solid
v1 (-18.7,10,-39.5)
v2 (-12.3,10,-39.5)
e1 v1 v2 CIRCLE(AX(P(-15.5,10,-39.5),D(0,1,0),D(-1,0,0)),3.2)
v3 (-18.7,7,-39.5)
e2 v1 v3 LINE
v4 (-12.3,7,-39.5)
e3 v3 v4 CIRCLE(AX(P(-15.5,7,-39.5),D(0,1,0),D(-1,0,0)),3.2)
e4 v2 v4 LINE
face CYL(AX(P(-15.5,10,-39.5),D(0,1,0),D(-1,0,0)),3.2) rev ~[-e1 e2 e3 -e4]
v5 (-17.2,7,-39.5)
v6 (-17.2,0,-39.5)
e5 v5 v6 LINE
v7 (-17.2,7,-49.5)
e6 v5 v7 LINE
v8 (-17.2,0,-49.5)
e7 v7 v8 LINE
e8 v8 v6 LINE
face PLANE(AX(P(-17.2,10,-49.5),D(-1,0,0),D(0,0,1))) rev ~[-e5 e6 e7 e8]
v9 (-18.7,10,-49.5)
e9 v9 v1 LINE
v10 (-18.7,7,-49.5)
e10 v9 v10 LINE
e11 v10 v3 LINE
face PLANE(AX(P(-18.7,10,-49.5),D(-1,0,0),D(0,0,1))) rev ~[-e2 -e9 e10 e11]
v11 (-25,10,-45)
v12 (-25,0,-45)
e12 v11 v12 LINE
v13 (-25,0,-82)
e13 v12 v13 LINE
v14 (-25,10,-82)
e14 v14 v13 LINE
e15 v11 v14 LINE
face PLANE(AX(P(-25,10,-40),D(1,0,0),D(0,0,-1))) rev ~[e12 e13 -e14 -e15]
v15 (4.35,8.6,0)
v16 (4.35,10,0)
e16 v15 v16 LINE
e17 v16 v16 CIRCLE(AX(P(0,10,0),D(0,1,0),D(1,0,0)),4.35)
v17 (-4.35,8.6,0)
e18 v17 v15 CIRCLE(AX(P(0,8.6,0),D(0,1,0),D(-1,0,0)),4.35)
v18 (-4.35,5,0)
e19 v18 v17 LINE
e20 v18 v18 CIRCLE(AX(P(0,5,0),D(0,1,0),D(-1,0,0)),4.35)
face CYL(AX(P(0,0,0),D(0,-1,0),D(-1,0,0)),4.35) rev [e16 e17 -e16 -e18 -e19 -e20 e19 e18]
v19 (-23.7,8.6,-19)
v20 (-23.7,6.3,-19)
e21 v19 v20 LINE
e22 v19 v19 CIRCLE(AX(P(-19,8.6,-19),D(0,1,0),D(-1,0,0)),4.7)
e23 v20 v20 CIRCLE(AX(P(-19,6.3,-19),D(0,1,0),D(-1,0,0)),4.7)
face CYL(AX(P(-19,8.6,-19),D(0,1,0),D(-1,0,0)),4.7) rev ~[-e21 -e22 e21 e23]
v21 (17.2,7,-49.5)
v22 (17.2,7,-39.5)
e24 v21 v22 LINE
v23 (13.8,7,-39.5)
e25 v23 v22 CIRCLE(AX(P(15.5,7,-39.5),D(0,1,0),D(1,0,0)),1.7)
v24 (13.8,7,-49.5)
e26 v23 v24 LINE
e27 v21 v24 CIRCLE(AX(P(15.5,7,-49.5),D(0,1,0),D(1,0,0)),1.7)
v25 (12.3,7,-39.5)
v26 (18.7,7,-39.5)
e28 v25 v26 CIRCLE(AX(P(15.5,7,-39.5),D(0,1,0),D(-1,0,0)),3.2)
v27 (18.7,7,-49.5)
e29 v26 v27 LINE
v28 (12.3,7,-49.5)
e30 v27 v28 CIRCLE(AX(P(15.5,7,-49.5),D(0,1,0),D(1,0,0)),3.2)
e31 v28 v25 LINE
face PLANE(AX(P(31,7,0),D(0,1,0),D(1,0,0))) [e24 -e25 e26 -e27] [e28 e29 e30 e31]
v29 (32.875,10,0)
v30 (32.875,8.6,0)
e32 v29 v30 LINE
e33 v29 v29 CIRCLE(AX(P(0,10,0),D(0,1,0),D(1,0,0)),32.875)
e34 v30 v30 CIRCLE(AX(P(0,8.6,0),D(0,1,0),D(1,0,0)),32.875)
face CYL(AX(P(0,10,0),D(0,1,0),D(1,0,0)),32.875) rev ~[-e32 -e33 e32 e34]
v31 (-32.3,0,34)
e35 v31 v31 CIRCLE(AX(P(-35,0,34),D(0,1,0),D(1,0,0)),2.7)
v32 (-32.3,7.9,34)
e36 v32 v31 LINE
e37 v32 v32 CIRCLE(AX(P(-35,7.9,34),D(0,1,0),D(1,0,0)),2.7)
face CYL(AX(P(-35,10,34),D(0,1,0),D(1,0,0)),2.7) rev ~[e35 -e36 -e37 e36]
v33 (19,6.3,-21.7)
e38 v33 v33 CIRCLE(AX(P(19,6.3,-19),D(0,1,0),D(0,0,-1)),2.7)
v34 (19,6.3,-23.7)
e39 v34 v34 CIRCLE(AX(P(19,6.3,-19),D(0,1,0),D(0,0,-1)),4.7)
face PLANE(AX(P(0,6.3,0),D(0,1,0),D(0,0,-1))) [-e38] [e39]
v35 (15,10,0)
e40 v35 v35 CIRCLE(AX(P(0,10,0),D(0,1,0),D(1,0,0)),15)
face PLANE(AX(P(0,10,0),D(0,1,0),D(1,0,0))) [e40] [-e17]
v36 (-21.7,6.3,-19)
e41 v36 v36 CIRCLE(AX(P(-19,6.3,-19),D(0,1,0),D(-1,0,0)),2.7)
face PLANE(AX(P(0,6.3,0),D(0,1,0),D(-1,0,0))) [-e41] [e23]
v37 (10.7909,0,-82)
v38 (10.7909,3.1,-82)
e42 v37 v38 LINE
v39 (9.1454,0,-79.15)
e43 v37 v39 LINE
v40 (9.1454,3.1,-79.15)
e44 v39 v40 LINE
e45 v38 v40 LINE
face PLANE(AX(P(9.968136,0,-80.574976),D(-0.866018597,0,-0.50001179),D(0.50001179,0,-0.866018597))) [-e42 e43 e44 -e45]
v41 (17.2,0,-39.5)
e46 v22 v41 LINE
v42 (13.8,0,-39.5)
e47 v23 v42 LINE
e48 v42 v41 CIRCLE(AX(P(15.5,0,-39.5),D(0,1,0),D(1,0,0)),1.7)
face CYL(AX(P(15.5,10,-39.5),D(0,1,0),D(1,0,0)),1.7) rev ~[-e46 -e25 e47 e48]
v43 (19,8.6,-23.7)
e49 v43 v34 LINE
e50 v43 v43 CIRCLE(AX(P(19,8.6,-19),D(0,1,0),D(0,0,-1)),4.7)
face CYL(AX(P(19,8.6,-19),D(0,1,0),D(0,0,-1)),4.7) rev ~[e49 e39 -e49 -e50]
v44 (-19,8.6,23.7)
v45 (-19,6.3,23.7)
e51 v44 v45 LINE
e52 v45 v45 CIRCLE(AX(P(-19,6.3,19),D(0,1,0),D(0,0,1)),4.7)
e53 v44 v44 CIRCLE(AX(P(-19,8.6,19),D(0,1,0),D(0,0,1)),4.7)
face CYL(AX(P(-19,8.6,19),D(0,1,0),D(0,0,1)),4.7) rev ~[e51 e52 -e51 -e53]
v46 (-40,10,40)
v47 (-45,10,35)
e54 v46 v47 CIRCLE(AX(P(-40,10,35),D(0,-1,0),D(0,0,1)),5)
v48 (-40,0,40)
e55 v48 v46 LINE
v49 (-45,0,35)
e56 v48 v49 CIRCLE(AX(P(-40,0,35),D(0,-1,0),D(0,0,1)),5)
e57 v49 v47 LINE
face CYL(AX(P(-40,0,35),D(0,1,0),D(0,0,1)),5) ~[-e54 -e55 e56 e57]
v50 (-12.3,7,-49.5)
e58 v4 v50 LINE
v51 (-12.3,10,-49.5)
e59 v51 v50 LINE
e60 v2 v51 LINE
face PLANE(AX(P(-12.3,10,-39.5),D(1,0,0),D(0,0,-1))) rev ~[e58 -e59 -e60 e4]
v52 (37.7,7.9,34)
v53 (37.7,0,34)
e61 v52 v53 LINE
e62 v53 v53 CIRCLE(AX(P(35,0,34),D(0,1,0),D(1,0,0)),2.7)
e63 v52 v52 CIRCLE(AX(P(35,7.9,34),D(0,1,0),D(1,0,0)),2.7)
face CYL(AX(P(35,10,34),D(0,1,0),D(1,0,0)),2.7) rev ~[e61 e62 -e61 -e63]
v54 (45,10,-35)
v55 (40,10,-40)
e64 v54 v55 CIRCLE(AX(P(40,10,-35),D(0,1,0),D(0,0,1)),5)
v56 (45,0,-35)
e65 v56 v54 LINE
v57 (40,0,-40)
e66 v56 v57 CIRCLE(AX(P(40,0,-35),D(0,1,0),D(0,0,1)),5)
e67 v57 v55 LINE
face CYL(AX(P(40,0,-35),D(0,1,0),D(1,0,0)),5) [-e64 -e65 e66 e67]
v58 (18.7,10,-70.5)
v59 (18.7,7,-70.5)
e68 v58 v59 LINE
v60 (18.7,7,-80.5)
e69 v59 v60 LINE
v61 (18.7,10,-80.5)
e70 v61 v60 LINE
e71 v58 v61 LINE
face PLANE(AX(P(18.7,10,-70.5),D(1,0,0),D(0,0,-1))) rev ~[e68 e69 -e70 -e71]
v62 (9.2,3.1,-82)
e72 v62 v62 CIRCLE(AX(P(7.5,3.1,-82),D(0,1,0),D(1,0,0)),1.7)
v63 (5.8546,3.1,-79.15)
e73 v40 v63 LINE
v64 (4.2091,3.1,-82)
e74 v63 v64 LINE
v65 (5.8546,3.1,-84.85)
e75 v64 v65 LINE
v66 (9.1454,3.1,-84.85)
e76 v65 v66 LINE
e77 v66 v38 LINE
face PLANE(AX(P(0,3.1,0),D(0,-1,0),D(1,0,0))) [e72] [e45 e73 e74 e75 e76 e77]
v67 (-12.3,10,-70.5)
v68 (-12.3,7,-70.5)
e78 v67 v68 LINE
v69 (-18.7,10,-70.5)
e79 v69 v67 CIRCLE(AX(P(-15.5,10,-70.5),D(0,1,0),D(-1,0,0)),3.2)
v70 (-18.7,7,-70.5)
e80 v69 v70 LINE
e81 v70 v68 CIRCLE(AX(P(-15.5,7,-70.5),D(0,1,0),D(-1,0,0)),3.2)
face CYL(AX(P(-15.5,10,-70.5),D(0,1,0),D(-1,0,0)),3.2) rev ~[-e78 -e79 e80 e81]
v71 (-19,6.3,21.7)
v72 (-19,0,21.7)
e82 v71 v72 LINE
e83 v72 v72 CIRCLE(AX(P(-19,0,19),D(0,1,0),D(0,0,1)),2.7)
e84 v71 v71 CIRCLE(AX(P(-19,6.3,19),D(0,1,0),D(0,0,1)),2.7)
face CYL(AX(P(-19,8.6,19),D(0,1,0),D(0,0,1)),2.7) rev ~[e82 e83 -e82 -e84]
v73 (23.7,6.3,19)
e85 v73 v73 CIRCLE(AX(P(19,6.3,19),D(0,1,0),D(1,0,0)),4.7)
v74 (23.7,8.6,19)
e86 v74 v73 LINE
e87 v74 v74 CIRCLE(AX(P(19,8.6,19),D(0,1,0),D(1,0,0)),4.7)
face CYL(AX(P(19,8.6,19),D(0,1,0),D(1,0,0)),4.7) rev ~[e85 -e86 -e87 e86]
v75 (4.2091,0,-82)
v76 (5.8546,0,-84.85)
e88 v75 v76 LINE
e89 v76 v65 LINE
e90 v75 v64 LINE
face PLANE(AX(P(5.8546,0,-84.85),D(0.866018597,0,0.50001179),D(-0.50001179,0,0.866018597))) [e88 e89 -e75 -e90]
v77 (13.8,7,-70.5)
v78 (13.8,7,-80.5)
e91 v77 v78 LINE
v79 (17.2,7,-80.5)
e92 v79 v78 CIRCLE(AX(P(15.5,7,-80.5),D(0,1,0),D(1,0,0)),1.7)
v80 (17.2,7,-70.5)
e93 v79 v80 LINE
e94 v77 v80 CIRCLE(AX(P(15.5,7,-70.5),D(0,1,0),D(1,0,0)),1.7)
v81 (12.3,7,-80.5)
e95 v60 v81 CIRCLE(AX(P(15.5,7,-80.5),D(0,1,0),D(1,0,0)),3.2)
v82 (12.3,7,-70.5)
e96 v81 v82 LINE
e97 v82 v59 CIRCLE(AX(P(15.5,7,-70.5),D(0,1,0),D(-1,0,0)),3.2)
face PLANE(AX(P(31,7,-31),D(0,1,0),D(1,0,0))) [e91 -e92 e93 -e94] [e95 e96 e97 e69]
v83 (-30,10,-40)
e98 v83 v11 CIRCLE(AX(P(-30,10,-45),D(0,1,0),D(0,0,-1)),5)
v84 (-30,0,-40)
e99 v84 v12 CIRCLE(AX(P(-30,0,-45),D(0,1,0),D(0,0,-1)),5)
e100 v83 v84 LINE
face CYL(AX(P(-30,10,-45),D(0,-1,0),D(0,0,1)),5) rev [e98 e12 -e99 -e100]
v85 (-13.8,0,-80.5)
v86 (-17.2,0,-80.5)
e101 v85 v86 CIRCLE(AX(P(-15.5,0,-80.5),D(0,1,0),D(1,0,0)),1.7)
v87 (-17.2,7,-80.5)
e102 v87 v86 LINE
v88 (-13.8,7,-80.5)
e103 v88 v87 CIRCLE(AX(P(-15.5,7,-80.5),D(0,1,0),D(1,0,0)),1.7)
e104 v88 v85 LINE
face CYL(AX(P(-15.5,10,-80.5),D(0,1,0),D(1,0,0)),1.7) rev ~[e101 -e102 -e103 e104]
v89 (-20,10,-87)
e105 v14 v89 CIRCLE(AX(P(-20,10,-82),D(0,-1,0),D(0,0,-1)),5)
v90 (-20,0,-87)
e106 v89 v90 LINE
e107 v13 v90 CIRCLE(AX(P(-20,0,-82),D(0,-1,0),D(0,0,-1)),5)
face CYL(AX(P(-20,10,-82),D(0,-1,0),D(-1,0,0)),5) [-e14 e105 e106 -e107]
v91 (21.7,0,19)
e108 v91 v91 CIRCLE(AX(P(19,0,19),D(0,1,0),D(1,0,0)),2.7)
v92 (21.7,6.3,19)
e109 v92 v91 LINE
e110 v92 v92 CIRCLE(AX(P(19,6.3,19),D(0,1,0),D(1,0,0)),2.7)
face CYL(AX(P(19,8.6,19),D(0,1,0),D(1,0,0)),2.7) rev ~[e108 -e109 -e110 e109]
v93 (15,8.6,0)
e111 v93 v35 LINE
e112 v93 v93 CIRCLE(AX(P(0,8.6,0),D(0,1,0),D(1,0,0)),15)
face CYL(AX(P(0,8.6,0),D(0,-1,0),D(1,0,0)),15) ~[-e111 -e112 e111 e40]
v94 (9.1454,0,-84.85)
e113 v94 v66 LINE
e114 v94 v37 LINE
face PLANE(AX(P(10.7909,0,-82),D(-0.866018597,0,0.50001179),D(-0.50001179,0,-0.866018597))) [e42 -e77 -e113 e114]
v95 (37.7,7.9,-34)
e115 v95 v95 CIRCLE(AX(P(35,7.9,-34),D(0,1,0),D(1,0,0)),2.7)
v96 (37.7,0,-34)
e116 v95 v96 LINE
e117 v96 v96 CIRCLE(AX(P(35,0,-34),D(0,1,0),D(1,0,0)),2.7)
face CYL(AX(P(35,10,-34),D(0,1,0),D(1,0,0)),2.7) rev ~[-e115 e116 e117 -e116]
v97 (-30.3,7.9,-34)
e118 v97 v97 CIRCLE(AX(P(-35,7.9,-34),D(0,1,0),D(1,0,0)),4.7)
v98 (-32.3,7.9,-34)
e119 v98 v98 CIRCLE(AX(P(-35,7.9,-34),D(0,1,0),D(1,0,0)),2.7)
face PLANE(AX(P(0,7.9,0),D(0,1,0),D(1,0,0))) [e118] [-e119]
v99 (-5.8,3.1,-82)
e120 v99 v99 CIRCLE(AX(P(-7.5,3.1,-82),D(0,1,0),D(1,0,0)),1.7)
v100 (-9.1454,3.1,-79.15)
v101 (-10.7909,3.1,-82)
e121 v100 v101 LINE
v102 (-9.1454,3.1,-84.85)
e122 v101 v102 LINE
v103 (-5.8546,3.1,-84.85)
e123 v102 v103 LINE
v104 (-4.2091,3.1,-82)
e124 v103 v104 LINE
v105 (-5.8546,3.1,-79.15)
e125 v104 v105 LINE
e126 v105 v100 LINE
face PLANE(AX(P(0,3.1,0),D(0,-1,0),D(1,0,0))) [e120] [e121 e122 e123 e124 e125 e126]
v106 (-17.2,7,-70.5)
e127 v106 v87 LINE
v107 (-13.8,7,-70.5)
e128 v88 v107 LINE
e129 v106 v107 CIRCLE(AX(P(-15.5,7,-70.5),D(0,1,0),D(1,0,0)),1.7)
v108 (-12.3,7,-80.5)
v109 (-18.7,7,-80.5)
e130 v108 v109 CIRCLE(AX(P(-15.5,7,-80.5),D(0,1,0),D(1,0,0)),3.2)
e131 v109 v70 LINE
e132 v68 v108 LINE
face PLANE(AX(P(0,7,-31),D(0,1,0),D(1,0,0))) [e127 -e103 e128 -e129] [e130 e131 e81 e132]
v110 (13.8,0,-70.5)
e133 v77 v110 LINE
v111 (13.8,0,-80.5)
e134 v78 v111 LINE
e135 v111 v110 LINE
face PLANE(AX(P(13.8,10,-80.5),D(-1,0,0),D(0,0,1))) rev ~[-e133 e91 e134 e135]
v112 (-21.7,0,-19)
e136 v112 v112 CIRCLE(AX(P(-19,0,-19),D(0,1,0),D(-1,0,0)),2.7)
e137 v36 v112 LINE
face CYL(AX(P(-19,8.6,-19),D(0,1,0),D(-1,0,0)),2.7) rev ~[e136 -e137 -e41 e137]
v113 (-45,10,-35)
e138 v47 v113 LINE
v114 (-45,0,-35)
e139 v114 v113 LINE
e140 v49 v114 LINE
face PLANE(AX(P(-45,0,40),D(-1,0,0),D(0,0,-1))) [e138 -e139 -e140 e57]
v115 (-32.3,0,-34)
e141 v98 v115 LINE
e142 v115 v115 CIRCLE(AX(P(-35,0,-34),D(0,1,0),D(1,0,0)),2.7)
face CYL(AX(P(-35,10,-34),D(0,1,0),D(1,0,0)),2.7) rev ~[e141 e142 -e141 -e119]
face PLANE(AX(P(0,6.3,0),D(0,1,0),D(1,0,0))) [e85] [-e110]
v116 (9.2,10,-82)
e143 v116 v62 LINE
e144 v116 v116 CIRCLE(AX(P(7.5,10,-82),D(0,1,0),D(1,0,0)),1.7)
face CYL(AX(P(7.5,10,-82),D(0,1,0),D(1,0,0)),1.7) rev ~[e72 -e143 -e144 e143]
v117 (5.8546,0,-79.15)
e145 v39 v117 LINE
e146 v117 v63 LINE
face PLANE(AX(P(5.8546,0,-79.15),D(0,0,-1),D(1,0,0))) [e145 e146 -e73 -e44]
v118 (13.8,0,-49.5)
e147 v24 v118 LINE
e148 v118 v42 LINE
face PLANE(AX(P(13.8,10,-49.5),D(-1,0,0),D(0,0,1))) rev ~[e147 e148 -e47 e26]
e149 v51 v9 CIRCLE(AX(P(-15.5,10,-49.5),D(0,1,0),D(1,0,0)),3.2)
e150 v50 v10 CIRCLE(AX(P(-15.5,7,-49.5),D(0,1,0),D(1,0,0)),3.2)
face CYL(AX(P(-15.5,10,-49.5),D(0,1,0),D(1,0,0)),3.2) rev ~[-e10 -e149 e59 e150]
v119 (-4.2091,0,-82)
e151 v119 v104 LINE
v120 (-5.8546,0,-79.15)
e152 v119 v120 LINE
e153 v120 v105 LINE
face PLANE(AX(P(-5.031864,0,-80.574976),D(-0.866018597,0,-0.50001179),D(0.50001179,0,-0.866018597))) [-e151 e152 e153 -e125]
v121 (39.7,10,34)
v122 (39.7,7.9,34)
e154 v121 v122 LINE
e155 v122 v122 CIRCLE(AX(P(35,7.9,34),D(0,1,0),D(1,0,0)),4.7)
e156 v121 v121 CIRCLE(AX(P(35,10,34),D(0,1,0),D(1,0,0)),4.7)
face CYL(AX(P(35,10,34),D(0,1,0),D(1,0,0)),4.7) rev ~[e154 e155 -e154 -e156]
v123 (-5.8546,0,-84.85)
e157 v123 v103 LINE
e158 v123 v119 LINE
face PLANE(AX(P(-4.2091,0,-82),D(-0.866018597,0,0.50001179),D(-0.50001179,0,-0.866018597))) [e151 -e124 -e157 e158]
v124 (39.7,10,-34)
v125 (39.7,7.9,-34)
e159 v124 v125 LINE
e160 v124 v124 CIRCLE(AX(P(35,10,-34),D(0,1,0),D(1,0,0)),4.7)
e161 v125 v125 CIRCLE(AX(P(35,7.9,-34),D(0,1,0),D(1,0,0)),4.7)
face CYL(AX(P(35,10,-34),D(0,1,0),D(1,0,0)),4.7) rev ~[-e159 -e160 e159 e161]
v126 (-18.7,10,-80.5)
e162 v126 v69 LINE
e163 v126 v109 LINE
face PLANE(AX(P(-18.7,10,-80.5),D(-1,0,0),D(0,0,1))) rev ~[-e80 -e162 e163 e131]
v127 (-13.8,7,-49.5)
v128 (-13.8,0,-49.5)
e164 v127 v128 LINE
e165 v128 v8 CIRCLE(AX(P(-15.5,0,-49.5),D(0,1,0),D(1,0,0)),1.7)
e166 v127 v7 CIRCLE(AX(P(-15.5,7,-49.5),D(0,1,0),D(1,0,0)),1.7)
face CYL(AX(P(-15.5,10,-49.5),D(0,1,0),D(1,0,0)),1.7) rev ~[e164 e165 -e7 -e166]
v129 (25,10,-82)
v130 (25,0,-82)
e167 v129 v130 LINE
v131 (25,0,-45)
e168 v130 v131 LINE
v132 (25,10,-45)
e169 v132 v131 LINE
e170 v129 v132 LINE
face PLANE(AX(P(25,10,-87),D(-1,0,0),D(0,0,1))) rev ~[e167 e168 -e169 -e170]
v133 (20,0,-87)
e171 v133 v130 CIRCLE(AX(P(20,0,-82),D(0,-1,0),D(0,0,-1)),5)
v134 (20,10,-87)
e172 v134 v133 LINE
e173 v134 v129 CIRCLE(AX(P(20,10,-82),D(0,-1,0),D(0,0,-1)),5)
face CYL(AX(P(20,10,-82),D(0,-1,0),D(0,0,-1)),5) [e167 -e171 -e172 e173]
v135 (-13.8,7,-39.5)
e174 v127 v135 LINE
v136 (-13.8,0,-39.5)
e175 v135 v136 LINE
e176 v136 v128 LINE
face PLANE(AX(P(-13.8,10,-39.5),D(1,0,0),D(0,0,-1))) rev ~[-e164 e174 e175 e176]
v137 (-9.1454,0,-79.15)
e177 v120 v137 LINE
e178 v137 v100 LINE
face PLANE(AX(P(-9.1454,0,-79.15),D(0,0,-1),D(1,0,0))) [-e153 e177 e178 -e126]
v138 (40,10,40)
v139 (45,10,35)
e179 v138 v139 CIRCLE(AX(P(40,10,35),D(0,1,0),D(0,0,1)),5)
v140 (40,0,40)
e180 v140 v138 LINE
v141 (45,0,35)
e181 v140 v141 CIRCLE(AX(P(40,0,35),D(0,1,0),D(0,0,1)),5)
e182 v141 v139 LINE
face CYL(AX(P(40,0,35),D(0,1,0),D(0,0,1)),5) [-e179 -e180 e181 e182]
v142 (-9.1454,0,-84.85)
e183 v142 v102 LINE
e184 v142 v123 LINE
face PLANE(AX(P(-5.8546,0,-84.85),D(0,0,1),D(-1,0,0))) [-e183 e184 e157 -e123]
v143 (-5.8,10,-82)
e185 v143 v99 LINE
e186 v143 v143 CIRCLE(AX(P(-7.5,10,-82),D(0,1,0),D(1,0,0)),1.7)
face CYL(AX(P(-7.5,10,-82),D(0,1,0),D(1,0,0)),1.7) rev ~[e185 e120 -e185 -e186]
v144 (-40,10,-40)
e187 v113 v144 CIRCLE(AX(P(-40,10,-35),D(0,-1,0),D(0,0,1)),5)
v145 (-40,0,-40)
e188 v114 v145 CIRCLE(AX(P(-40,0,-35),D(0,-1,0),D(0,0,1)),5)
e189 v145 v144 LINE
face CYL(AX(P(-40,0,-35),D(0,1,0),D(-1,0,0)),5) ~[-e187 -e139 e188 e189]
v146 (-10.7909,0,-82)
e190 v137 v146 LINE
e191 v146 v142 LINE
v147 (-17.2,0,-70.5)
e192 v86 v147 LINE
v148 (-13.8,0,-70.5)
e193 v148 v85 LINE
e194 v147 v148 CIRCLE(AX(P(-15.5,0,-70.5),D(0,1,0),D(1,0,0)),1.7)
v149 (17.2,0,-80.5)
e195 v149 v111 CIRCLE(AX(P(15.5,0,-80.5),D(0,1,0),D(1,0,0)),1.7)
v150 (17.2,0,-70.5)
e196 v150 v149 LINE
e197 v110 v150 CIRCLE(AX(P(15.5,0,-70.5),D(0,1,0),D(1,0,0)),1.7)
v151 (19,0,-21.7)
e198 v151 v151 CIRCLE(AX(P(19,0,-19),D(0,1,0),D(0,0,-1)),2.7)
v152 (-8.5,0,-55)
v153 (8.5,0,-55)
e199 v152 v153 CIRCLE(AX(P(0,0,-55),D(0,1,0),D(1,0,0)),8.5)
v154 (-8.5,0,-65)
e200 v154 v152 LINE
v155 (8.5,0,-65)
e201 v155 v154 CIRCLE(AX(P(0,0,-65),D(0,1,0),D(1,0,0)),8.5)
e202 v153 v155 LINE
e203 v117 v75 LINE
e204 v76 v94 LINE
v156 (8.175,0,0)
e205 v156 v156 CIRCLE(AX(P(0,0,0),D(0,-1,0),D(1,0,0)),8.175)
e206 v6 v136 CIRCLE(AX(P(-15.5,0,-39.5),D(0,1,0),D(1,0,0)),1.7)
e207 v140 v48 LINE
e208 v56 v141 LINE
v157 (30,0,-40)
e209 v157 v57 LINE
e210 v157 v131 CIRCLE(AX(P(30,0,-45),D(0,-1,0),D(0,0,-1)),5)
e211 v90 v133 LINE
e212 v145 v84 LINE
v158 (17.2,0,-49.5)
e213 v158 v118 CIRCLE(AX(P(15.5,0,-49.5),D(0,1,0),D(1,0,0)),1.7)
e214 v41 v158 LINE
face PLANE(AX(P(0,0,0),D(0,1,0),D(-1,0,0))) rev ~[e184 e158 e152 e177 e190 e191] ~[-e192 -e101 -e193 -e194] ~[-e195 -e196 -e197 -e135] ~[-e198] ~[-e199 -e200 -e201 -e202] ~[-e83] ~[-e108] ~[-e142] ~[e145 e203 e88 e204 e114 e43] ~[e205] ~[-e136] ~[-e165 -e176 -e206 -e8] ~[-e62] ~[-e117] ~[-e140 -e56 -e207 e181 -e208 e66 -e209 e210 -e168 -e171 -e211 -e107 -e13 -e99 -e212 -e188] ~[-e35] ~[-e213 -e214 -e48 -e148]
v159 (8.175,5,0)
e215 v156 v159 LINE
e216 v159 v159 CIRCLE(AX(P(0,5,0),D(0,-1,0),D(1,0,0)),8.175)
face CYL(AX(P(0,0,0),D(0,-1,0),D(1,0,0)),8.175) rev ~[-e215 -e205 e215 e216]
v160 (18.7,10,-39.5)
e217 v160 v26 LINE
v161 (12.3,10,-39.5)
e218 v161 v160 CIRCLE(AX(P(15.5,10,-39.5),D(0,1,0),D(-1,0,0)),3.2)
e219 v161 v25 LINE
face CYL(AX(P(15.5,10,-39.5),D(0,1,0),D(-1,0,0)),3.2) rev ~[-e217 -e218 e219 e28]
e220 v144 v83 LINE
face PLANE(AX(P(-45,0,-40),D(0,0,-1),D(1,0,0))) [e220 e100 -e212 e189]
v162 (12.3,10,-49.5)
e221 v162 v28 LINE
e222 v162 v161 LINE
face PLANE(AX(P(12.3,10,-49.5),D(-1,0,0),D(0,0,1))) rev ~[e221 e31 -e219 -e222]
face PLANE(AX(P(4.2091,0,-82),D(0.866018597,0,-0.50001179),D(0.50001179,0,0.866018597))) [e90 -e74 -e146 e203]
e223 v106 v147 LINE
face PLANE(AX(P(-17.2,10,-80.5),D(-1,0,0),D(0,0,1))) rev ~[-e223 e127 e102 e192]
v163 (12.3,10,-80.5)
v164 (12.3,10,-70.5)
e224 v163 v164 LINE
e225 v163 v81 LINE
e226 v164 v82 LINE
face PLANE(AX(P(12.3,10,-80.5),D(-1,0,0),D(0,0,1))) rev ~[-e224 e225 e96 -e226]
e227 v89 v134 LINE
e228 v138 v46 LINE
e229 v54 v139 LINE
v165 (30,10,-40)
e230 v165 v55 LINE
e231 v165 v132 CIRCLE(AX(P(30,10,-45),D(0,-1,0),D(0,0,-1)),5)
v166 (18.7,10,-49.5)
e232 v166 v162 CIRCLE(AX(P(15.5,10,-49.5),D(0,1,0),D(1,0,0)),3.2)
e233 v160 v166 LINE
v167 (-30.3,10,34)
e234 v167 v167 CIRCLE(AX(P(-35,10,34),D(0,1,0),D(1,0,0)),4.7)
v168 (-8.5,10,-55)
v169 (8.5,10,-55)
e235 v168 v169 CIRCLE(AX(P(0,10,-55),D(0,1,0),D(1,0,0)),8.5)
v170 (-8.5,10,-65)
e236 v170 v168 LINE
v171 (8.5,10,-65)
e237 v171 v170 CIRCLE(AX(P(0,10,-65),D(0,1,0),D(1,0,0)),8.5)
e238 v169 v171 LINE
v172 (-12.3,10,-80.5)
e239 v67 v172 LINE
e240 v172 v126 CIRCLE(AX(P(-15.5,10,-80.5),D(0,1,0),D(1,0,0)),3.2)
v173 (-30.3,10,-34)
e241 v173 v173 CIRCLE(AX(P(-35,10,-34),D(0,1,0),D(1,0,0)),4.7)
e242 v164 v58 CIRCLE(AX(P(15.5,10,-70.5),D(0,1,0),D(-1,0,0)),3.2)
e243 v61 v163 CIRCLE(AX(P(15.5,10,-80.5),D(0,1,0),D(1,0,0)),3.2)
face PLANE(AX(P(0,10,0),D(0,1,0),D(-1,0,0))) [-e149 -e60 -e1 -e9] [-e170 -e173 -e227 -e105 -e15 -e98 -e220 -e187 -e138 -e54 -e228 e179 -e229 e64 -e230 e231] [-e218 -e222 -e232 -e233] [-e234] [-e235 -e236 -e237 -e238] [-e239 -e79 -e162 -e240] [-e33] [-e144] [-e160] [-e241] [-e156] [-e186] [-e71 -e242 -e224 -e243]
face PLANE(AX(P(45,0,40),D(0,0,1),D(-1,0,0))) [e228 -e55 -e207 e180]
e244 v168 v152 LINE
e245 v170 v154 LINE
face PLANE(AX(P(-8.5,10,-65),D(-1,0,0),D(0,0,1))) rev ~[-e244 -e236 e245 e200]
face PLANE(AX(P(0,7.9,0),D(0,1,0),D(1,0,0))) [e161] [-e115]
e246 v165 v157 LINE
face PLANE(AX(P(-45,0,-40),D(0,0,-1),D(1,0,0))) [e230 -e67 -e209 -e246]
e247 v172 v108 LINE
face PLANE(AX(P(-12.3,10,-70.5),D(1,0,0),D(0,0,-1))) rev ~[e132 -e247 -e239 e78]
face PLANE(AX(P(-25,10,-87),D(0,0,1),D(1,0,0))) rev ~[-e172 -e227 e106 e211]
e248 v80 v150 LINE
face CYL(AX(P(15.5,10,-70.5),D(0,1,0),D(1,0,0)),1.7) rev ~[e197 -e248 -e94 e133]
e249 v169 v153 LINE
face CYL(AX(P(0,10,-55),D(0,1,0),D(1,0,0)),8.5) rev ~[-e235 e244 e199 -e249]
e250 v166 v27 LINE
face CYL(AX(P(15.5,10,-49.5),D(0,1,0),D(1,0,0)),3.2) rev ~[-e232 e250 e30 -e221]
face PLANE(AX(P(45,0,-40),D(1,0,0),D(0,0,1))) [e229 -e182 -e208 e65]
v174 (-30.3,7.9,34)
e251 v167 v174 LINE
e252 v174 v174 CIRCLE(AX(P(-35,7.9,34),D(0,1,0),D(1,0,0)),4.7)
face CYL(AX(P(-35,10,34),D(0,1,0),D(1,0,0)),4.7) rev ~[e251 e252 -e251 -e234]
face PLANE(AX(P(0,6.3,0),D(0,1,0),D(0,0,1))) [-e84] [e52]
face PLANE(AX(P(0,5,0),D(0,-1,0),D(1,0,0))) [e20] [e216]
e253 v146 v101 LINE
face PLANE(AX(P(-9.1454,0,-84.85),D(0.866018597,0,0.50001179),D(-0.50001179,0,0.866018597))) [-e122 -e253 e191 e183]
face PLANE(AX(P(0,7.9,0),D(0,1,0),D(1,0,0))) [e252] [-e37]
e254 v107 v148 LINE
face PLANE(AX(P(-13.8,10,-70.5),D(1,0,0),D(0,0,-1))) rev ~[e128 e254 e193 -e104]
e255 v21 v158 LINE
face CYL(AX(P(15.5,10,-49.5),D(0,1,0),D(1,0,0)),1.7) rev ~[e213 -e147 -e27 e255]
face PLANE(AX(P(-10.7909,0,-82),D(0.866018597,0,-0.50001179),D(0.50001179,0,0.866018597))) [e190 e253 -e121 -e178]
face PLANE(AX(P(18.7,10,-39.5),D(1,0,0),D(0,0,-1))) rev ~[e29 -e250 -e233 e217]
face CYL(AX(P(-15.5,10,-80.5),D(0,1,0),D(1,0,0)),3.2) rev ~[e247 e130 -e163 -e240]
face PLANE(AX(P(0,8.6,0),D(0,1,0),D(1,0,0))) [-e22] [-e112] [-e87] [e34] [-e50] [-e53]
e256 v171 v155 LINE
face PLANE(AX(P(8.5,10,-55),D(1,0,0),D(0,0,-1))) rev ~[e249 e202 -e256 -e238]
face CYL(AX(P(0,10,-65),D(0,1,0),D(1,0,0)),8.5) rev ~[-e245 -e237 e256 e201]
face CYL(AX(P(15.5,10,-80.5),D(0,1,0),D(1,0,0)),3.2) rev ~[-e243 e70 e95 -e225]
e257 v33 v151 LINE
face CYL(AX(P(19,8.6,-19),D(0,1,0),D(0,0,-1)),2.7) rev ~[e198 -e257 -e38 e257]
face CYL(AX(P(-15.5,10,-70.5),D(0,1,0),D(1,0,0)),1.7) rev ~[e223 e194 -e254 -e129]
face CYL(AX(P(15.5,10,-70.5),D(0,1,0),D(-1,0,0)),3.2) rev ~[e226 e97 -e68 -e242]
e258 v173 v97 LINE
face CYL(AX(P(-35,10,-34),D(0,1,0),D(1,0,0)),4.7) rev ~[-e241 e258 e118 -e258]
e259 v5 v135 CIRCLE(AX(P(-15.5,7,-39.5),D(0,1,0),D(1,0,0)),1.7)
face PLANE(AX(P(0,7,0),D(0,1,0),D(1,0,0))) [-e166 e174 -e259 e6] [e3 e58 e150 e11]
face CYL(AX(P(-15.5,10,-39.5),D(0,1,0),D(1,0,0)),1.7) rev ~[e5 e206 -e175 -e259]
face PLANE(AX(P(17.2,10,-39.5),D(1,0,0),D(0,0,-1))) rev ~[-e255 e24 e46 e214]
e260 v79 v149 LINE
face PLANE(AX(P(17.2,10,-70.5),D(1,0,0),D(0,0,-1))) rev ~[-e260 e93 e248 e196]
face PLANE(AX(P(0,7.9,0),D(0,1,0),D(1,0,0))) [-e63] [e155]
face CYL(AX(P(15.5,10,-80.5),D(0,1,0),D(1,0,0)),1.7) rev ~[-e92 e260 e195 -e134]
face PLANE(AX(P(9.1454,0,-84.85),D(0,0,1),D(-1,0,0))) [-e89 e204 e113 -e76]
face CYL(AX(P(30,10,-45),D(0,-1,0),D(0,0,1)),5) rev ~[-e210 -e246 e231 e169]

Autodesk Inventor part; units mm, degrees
ref_plane "YZ Plane" through (0, 0, 0) normal (1, 0, 0) x (0, 1, 0)
ref_plane "XZ Plane" through (0, 0, 0) normal (0, 1, 0) x (-1, 0, 0)
ref_plane "XY Plane" through (0, 0, 0) normal (0, 0, 1) x (1, 0, 0)
sketch "Boceto1" plane through (0, 0, 0) normal (0, 1, 0) x (-1, 0, 0)
  circle A0 centre (0, 0) radius 4.35
  line L0 (-45, 40) -> (45, 40)
  line L1 (45, 40) -> (45, -40)
  line L2 (45, -40) -> (-45, -40)
  line L3 (-45, -40) -> (-45, 40)
  line L4 (-45, 40) -> (45, -40) construction
  line L5 (45, 40) -> (-45, -40) construction
  dimension "d0" = 8.7
  dimension "d1" = 80
  dimension "d2" = 90
extrude "Extrusión1" add sketch "Boceto1" along normal blind 10
sketch "Boceto2" plane through (0, 10, 0) normal (0, 1, 0) x (1, 0, 0)
  circle A0 centre (0, 0) radius 4.35 projected
  circle A1 centre (0, 0) radius 32.875
  dimension "d5" = 65.75
extrude "Extrusión2" cut sketch "Boceto2" against normal blind 1.4
sketch "Boceto3" plane through (0, 8.6, 0) normal (0, 1, 0) x (1, 0, 0)
  circle A0 centre (0, 0) radius 4.35 projected
  circle A1 centre (0, 0) radius 15
  dimension "d8" = 30
extrude "Extrusión3" add sketch "Boceto3" along normal up to surface (1.4 mm away)
sketch "Boceto4" plane through (0, 8.6, 0) normal (0, 1, 0) x (1, 0, 0)
  circle A0 centre (0, -18.25) radius 2.65
  circle A1 centre (0, 18.25) radius 2.65
  point P0 (0, 0)
  dimension "d11" = 5.3
  dimension "d12" = 36.5
  dimension "d13" = 18.25
extrude "Extrusión4" [suppressed]
sketch "Boceto5" plane through (0, 8.6, 0) normal (0, 1, 0) x (1, 0, 0)
  circle A0 centre (0, -18.25) radius 2.65 projected
  circle A1 centre (0, -18.25) radius 4.05
  circle A2 centre (0, 18.25) radius 2.65 projected
  circle A3 centre (0, 18.25) radius 4.05
  line L0 (-4.6765, -18.25) -> (-2.3383, -14.2)
  line L1 (-2.3383, -14.2) -> (2.3383, -14.2)
  line L2 (2.3383, -14.2) -> (4.6765, -18.25)
  line L3 (4.6765, -18.25) -> (2.3383, -22.3)
  line L4 (2.3383, -22.3) -> (-2.3383, -22.3)
  line L5 (-2.3383, -22.3) -> (-4.6765, -18.25)
  line L6 (-4.6765, 18.25) -> (-2.3383, 22.3)
  line L7 (-2.3383, 22.3) -> (2.3383, 22.3)
  line L8 (2.3383, 22.3) -> (4.6765, 18.25)
  line L9 (4.6765, 18.25) -> (2.3383, 14.2)
  line L10 (2.3383, 14.2) -> (-2.3383, 14.2)
  line L11 (-2.3383, 14.2) -> (-4.6765, 18.25)
  point P0 (0, 0)
  dimension "d16" = 8.1
extrude "Extrusión5" [suppressed]
sketch "Boceto6" plane through (0, 10, 0) normal (0, 1, 0) x (1, 0, 0)
  circle A0 centre (-35, 34) radius 2.7
  circle A1 centre (35, 34) radius 2.7
  circle A2 centre (-35, -34) radius 2.7
  circle A3 centre (35, -34) radius 2.7
  line L0 (-45, 40) -> (-45, -40) projected
  line L1 (45, 40) -> (-45, 40) projected
  line L2 (-45, -40) -> (45, -40) projected
  line L3 (45, -40) -> (45, 40) projected
  point P0 (0, 0)
  dimension "d19" = 5.4
  dimension "d20" = 10
  dimension "d21" = 6
  dimension "d22" = 6
  dimension "d23" = 10
extrude "Extrusión6" cut sketch "Boceto6" against normal through all contours A0 | A1 | A2 | A3
fillet "Empalme1" radius 5 4 edges at (45, 5, 40) (45, 5, -40) (-45, 5, 40) (-45, 5, -40)
sketch "Boceto7" plane through (0, 10, 0) normal (0, 1, 0) x (1, 0, 0)
  circle A0 centre (-35, -34) radius 2.7 projected
  circle A1 centre (-35, -34) radius 4.7
  circle A2 centre (35, -34) radius 2.7 projected
  circle A3 centre (35, -34) radius 4.7
  circle A4 centre (35, 34) radius 2.7 projected
  circle A5 centre (35, 34) radius 4.7
  circle A6 centre (-35, 34) radius 2.7 projected
  circle A7 centre (-35, 34) radius 4.7
  point P0 (0, 0)
  dimension "d27" = 9.4
extrude "Extrusión7" cut sketch "Boceto7" against normal blind 2.1 contours A0 | A1 | A2 | A3 | A4 | A5 | A6 | A7
sketch "Boceto9" plane through (0, 0, 0) normal (0, -1, 0) x (1, 0, 0)
  circle A0 centre (0, 0) radius 4.35 projected
  circle A1 centre (0, 0) radius 8.175
  dimension "d32" = 16.35
extrude "Extrusión9" cut sketch "Boceto9" against normal blind 5 contours A0 | A1
sketch "Boceto10" plane through (0, 8.6, 0) normal (0, 1, 0) x (1, 0, 0)
  circle A0 centre (19, -19) radius 2.7
  line L0 (26, 26) -> (-26, 26)
  line L1 (-26, 26) -> (-26, -26)
  line L2 (-26, -26) -> (26, -26)
  line L3 (26, -26) -> (26, 26)
  circle A1 centre (0, 0) radius 4.35 projected
  line L4 (26, 26) -> (-26, -26) construction
  line L5 (-26, 26) -> (26, -26) construction
  circle A2 centre (0, 0) radius 15 projected
  circle A3 centre (0, 0) radius 21
  circle A4 centre (19, -19) radius 5
  line L6 (-19, 19) -> (19, 19)
  line L7 (19, 19) -> (19, -19)
  line L8 (19, -19) -> (-19, -19)
  line L9 (-19, -19) -> (-19, 19)
  line L10 (-19, 19) -> (19, -19) construction
  line L11 (19, 19) -> (-19, -19) construction
  dimension "d35" = 52
  dimension "d36" = 52
  dimension "d37" = 42
  dimension "d38" = 5.4
  dimension "d39" = 10
  dimension "d40" = 38
extrude "Extrusión10" cut sketch "Boceto10" against normal through all contours A0 L8 L7 | L7 L8 A0
sketch "Boceto11" plane through (0, 8.6, 0) normal (0, 1, 0) x (1, 0, 0)
  circle A0 centre (19, -19) radius 2.7 projected
  circle A1 centre (19, -19) radius 4.7
  point P0 (0, 0)
  dimension "d43" = 9.4
extrude "Extrusión11" cut sketch "Boceto11" against normal blind 2.3
pattern_circular "Patrón circular1" count 4 over 360 about axis through (0, 8.6, 0) along (0, 1, 0) of "Extrusión10", "Extrusión11"
sketch "Boceto12" plane through (0, 10, 0) normal (0, 1, 0) x (1, 0, 0)
  line L0 (40, 40) -> (-40, 40) projected
  line L1 (25, 40) -> (-25, 40)
  line L2 (-25, 40) -> (-25, 87)
  line L3 (-25, 87) -> (25, 87)
  line L4 (25, 87) -> (25, 40)
  point P0 (0, 0)
  point P1 (-25, 40)
  dimension "d49" = 25
  dimension "d50" = 25
  dimension "d51" = 47
extrude "Extrusión12" add sketch "Boceto12" against normal up to surface (10 mm away)
fillet "Empalme2" radius 5 4 edges at (25, 5, -40) (25, 5, -87) (-25, 5, -87) (-25, 5, -40)
sketch "Boceto13" plane through (0, 10, 0) normal (0, 1, 0) x (1, 0, 0)
  circle A0 centre (0, 55) radius 8.5
  circle A1 centre (0, 65) radius 8.5
  line L0 (-8.5, 55) -> (8.5, 55)
  line L1 (8.5, 55) -> (8.5, 65)
  line L2 (8.5, 65) -> (-8.5, 65)
  line L3 (-8.5, 65) -> (-8.5, 55)
  line L4 (20, 87) -> (-20, 87) projected
  point P0 (0, 0)
  point P1 (-8.5, 65)
  dimension "d55" = 17
  dimension "d57" = 10
  dimension "d93" = 55
extrude "Extrusión13" cut sketch "Boceto13" against normal through all
sketch "Boceto14" plane through (0, 10, 0) normal (0, 1, 0) x (1, 0, 0)
  circle A0 centre (-15.5, 39.5) radius 1.7
  line L0 (-17.2, 39.5) -> (-13.8, 39.5)
  line L1 (-13.8, 39.5) -> (-13.8, 49.5)
  line L2 (-13.8, 49.5) -> (-17.2, 49.5)
  line L3 (-17.2, 49.5) -> (-17.2, 39.5)
  circle A1 centre (-15.5, 49.5) radius 1.7
  arc A2 (-8.5, 55) -> (8.5, 55) centre (0, 55) ccw projected
  line L4 (0, 55) -> (-15.5, 55)
  line L5 (-15.5, 55) -> (-15.5, 39.5)
  line L6 (-15.5, 39.5) -> (0, 39.5)
  line L7 (0, 39.5) -> (0, 55)
  point P0 (0, 0)
  dimension "d62" = 3.4
  dimension "d60" = 15.5
  dimension "d61" = 15.5
  dimension "d63" = 10
extrude "Extrusión14" cut sketch "Boceto14" against normal through all contours L0 A0 | L3 A1 L5 A0 | A0 L5 L0 | L0 L5 A0 | A0 L5 A1 L1 | A1 L5 L2 | L2 L5 A1 | A1 L5 L2 | L2 L5 A1
pattern_linear "Patrón rectangular1" count 2 spacing 31 along (0, 0, -1) count 2 spacing 31 along (1, 0, 0) of "Extrusión14"
sketch "Boceto15" plane through (0, 10, 0) normal (0, 1, 0) x (1, 0, 0)
  arc A0 (-17.2, 39.5) -> (-13.8, 39.5) centre (-15.5, 39.5) ccw projected
  line L0 (-17.2, 39.5) -> (-17.2, 49.5) projected
  line L1 (-13.8, 49.5) -> (-13.8, 39.5) projected
  arc A1 (-13.8, 49.5) -> (-17.2, 49.5) centre (-15.5, 49.5) ccw projected
  line L2 (-18.7, 49.5) -> (-18.7, 39.5)
  arc A2 (-18.7, 39.5) -> (-12.3, 39.5) centre (-15.5, 39.5) ccw
  line L3 (-12.3, 39.5) -> (-12.3, 49.5)
  arc A3 (-12.3, 49.5) -> (-18.7, 49.5) centre (-15.5, 49.5) ccw
  point P0 (0, 0)
  point P1 (-17.2, 28.0165)
  point P2 (-13.8, 29.8383)
  dimension "d72" = 1.5
extrude "Extrusión15" cut sketch "Boceto15" against normal blind 3 contours L0 A1 L1 A0 | A3 L3 A2 L2
pattern_linear "Patrón rectangular2" count 2 spacing 31 along (0, 0, -1) count 2 spacing 31 along (1, 0, 0) of "Extrusión15"
sketch "Boceto16" plane through (0, 10, 0) normal (0, 1, 0) x (1, 0, 0)
  circle A0 centre (-7.5, 82) radius 1.7
  circle A1 centre (7.5, 82) radius 1.7
  arc A2 (8.5, 65) -> (-8.5, 65) centre (0, 65) ccw projected
  line L0 (20, 87) -> (-20, 87) projected
  point P0 (0, 0)
  dimension "d81" = 3.4
  dimension "d82" = 15
  dimension "d83" = 7.5
  dimension "d84" = 5
extrude "Extrusión16" cut sketch "Boceto16" against normal through all
sketch "Boceto17" plane through (0, 0, 0) normal (0, -1, 0) x (1, 0, 0)
  circle A0 centre (-7.5, -82) radius 1.7 projected
  circle A1 centre (-7.5, -82) radius 2.85
  circle A2 centre (7.5, -82) radius 1.7 projected
  circle A3 centre (7.5, -82) radius 2.85
  line L0 (-4.2091, -82) -> (-5.8546, -84.85)
  line L1 (-5.8546, -84.85) -> (-9.1454, -84.85)
  line L2 (-9.1454, -84.85) -> (-10.7909, -82)
  line L3 (-10.7909, -82) -> (-9.1454, -79.15)
  line L4 (-9.1454, -79.15) -> (-5.8546, -79.15)
  line L5 (-5.8546, -79.15) -> (-4.2091, -82)
  line L6 (10.7909, -82) -> (9.1454, -84.85)
  line L7 (9.1454, -84.85) -> (5.8546, -84.85)
  line L8 (5.8546, -84.85) -> (4.2091, -82)
  line L9 (4.2091, -82) -> (5.8546, -79.15)
  line L10 (5.8546, -79.15) -> (9.1454, -79.15)
  line L11 (9.1454, -79.15) -> (10.7909, -82)
  point P0 (0, 0)
  dimension "d87" = 5.7
extrude "Extrusión17" cut sketch "Boceto17" against normal blind 3.1 contours A0 | A1 | A1 L5 L0 | A1 L4 L5 | L0 L1 A1 | A1 L3 L4 | L1 L2 A1 | A1 L2 L3 | A2 | A3 | A3 L11 L6 | A3 L10 L11 | L6 L7 A3 | A3 L9 L10 | L7 L8 A3 | A3 L8 L9
sketch "Boceto8" plane through (0, 10, 0) normal (0, 1, 0) x (1, 0, 0)
  line L0 (4.981, 25.0262) -> (-4.981, 25.0262)
  line L1 (-4.981, 25.0262) -> (-4.981, 54.9738)
  line L2 (-4.981, 54.9738) -> (4.981, 54.9738)
  line L3 (4.981, 54.9738) -> (4.981, 25.0262)
  line L4 (40, 40) -> (-40, 40) projected
  line L5 (4.981, 25.0262) -> (-4.981, 54.9738) construction
  line L6 (-4.981, 25.0262) -> (4.981, 54.9738) construction
  point P0 (0, 0)
  point P1 (0, 40)
properties part number "Shoulderbasetop"
